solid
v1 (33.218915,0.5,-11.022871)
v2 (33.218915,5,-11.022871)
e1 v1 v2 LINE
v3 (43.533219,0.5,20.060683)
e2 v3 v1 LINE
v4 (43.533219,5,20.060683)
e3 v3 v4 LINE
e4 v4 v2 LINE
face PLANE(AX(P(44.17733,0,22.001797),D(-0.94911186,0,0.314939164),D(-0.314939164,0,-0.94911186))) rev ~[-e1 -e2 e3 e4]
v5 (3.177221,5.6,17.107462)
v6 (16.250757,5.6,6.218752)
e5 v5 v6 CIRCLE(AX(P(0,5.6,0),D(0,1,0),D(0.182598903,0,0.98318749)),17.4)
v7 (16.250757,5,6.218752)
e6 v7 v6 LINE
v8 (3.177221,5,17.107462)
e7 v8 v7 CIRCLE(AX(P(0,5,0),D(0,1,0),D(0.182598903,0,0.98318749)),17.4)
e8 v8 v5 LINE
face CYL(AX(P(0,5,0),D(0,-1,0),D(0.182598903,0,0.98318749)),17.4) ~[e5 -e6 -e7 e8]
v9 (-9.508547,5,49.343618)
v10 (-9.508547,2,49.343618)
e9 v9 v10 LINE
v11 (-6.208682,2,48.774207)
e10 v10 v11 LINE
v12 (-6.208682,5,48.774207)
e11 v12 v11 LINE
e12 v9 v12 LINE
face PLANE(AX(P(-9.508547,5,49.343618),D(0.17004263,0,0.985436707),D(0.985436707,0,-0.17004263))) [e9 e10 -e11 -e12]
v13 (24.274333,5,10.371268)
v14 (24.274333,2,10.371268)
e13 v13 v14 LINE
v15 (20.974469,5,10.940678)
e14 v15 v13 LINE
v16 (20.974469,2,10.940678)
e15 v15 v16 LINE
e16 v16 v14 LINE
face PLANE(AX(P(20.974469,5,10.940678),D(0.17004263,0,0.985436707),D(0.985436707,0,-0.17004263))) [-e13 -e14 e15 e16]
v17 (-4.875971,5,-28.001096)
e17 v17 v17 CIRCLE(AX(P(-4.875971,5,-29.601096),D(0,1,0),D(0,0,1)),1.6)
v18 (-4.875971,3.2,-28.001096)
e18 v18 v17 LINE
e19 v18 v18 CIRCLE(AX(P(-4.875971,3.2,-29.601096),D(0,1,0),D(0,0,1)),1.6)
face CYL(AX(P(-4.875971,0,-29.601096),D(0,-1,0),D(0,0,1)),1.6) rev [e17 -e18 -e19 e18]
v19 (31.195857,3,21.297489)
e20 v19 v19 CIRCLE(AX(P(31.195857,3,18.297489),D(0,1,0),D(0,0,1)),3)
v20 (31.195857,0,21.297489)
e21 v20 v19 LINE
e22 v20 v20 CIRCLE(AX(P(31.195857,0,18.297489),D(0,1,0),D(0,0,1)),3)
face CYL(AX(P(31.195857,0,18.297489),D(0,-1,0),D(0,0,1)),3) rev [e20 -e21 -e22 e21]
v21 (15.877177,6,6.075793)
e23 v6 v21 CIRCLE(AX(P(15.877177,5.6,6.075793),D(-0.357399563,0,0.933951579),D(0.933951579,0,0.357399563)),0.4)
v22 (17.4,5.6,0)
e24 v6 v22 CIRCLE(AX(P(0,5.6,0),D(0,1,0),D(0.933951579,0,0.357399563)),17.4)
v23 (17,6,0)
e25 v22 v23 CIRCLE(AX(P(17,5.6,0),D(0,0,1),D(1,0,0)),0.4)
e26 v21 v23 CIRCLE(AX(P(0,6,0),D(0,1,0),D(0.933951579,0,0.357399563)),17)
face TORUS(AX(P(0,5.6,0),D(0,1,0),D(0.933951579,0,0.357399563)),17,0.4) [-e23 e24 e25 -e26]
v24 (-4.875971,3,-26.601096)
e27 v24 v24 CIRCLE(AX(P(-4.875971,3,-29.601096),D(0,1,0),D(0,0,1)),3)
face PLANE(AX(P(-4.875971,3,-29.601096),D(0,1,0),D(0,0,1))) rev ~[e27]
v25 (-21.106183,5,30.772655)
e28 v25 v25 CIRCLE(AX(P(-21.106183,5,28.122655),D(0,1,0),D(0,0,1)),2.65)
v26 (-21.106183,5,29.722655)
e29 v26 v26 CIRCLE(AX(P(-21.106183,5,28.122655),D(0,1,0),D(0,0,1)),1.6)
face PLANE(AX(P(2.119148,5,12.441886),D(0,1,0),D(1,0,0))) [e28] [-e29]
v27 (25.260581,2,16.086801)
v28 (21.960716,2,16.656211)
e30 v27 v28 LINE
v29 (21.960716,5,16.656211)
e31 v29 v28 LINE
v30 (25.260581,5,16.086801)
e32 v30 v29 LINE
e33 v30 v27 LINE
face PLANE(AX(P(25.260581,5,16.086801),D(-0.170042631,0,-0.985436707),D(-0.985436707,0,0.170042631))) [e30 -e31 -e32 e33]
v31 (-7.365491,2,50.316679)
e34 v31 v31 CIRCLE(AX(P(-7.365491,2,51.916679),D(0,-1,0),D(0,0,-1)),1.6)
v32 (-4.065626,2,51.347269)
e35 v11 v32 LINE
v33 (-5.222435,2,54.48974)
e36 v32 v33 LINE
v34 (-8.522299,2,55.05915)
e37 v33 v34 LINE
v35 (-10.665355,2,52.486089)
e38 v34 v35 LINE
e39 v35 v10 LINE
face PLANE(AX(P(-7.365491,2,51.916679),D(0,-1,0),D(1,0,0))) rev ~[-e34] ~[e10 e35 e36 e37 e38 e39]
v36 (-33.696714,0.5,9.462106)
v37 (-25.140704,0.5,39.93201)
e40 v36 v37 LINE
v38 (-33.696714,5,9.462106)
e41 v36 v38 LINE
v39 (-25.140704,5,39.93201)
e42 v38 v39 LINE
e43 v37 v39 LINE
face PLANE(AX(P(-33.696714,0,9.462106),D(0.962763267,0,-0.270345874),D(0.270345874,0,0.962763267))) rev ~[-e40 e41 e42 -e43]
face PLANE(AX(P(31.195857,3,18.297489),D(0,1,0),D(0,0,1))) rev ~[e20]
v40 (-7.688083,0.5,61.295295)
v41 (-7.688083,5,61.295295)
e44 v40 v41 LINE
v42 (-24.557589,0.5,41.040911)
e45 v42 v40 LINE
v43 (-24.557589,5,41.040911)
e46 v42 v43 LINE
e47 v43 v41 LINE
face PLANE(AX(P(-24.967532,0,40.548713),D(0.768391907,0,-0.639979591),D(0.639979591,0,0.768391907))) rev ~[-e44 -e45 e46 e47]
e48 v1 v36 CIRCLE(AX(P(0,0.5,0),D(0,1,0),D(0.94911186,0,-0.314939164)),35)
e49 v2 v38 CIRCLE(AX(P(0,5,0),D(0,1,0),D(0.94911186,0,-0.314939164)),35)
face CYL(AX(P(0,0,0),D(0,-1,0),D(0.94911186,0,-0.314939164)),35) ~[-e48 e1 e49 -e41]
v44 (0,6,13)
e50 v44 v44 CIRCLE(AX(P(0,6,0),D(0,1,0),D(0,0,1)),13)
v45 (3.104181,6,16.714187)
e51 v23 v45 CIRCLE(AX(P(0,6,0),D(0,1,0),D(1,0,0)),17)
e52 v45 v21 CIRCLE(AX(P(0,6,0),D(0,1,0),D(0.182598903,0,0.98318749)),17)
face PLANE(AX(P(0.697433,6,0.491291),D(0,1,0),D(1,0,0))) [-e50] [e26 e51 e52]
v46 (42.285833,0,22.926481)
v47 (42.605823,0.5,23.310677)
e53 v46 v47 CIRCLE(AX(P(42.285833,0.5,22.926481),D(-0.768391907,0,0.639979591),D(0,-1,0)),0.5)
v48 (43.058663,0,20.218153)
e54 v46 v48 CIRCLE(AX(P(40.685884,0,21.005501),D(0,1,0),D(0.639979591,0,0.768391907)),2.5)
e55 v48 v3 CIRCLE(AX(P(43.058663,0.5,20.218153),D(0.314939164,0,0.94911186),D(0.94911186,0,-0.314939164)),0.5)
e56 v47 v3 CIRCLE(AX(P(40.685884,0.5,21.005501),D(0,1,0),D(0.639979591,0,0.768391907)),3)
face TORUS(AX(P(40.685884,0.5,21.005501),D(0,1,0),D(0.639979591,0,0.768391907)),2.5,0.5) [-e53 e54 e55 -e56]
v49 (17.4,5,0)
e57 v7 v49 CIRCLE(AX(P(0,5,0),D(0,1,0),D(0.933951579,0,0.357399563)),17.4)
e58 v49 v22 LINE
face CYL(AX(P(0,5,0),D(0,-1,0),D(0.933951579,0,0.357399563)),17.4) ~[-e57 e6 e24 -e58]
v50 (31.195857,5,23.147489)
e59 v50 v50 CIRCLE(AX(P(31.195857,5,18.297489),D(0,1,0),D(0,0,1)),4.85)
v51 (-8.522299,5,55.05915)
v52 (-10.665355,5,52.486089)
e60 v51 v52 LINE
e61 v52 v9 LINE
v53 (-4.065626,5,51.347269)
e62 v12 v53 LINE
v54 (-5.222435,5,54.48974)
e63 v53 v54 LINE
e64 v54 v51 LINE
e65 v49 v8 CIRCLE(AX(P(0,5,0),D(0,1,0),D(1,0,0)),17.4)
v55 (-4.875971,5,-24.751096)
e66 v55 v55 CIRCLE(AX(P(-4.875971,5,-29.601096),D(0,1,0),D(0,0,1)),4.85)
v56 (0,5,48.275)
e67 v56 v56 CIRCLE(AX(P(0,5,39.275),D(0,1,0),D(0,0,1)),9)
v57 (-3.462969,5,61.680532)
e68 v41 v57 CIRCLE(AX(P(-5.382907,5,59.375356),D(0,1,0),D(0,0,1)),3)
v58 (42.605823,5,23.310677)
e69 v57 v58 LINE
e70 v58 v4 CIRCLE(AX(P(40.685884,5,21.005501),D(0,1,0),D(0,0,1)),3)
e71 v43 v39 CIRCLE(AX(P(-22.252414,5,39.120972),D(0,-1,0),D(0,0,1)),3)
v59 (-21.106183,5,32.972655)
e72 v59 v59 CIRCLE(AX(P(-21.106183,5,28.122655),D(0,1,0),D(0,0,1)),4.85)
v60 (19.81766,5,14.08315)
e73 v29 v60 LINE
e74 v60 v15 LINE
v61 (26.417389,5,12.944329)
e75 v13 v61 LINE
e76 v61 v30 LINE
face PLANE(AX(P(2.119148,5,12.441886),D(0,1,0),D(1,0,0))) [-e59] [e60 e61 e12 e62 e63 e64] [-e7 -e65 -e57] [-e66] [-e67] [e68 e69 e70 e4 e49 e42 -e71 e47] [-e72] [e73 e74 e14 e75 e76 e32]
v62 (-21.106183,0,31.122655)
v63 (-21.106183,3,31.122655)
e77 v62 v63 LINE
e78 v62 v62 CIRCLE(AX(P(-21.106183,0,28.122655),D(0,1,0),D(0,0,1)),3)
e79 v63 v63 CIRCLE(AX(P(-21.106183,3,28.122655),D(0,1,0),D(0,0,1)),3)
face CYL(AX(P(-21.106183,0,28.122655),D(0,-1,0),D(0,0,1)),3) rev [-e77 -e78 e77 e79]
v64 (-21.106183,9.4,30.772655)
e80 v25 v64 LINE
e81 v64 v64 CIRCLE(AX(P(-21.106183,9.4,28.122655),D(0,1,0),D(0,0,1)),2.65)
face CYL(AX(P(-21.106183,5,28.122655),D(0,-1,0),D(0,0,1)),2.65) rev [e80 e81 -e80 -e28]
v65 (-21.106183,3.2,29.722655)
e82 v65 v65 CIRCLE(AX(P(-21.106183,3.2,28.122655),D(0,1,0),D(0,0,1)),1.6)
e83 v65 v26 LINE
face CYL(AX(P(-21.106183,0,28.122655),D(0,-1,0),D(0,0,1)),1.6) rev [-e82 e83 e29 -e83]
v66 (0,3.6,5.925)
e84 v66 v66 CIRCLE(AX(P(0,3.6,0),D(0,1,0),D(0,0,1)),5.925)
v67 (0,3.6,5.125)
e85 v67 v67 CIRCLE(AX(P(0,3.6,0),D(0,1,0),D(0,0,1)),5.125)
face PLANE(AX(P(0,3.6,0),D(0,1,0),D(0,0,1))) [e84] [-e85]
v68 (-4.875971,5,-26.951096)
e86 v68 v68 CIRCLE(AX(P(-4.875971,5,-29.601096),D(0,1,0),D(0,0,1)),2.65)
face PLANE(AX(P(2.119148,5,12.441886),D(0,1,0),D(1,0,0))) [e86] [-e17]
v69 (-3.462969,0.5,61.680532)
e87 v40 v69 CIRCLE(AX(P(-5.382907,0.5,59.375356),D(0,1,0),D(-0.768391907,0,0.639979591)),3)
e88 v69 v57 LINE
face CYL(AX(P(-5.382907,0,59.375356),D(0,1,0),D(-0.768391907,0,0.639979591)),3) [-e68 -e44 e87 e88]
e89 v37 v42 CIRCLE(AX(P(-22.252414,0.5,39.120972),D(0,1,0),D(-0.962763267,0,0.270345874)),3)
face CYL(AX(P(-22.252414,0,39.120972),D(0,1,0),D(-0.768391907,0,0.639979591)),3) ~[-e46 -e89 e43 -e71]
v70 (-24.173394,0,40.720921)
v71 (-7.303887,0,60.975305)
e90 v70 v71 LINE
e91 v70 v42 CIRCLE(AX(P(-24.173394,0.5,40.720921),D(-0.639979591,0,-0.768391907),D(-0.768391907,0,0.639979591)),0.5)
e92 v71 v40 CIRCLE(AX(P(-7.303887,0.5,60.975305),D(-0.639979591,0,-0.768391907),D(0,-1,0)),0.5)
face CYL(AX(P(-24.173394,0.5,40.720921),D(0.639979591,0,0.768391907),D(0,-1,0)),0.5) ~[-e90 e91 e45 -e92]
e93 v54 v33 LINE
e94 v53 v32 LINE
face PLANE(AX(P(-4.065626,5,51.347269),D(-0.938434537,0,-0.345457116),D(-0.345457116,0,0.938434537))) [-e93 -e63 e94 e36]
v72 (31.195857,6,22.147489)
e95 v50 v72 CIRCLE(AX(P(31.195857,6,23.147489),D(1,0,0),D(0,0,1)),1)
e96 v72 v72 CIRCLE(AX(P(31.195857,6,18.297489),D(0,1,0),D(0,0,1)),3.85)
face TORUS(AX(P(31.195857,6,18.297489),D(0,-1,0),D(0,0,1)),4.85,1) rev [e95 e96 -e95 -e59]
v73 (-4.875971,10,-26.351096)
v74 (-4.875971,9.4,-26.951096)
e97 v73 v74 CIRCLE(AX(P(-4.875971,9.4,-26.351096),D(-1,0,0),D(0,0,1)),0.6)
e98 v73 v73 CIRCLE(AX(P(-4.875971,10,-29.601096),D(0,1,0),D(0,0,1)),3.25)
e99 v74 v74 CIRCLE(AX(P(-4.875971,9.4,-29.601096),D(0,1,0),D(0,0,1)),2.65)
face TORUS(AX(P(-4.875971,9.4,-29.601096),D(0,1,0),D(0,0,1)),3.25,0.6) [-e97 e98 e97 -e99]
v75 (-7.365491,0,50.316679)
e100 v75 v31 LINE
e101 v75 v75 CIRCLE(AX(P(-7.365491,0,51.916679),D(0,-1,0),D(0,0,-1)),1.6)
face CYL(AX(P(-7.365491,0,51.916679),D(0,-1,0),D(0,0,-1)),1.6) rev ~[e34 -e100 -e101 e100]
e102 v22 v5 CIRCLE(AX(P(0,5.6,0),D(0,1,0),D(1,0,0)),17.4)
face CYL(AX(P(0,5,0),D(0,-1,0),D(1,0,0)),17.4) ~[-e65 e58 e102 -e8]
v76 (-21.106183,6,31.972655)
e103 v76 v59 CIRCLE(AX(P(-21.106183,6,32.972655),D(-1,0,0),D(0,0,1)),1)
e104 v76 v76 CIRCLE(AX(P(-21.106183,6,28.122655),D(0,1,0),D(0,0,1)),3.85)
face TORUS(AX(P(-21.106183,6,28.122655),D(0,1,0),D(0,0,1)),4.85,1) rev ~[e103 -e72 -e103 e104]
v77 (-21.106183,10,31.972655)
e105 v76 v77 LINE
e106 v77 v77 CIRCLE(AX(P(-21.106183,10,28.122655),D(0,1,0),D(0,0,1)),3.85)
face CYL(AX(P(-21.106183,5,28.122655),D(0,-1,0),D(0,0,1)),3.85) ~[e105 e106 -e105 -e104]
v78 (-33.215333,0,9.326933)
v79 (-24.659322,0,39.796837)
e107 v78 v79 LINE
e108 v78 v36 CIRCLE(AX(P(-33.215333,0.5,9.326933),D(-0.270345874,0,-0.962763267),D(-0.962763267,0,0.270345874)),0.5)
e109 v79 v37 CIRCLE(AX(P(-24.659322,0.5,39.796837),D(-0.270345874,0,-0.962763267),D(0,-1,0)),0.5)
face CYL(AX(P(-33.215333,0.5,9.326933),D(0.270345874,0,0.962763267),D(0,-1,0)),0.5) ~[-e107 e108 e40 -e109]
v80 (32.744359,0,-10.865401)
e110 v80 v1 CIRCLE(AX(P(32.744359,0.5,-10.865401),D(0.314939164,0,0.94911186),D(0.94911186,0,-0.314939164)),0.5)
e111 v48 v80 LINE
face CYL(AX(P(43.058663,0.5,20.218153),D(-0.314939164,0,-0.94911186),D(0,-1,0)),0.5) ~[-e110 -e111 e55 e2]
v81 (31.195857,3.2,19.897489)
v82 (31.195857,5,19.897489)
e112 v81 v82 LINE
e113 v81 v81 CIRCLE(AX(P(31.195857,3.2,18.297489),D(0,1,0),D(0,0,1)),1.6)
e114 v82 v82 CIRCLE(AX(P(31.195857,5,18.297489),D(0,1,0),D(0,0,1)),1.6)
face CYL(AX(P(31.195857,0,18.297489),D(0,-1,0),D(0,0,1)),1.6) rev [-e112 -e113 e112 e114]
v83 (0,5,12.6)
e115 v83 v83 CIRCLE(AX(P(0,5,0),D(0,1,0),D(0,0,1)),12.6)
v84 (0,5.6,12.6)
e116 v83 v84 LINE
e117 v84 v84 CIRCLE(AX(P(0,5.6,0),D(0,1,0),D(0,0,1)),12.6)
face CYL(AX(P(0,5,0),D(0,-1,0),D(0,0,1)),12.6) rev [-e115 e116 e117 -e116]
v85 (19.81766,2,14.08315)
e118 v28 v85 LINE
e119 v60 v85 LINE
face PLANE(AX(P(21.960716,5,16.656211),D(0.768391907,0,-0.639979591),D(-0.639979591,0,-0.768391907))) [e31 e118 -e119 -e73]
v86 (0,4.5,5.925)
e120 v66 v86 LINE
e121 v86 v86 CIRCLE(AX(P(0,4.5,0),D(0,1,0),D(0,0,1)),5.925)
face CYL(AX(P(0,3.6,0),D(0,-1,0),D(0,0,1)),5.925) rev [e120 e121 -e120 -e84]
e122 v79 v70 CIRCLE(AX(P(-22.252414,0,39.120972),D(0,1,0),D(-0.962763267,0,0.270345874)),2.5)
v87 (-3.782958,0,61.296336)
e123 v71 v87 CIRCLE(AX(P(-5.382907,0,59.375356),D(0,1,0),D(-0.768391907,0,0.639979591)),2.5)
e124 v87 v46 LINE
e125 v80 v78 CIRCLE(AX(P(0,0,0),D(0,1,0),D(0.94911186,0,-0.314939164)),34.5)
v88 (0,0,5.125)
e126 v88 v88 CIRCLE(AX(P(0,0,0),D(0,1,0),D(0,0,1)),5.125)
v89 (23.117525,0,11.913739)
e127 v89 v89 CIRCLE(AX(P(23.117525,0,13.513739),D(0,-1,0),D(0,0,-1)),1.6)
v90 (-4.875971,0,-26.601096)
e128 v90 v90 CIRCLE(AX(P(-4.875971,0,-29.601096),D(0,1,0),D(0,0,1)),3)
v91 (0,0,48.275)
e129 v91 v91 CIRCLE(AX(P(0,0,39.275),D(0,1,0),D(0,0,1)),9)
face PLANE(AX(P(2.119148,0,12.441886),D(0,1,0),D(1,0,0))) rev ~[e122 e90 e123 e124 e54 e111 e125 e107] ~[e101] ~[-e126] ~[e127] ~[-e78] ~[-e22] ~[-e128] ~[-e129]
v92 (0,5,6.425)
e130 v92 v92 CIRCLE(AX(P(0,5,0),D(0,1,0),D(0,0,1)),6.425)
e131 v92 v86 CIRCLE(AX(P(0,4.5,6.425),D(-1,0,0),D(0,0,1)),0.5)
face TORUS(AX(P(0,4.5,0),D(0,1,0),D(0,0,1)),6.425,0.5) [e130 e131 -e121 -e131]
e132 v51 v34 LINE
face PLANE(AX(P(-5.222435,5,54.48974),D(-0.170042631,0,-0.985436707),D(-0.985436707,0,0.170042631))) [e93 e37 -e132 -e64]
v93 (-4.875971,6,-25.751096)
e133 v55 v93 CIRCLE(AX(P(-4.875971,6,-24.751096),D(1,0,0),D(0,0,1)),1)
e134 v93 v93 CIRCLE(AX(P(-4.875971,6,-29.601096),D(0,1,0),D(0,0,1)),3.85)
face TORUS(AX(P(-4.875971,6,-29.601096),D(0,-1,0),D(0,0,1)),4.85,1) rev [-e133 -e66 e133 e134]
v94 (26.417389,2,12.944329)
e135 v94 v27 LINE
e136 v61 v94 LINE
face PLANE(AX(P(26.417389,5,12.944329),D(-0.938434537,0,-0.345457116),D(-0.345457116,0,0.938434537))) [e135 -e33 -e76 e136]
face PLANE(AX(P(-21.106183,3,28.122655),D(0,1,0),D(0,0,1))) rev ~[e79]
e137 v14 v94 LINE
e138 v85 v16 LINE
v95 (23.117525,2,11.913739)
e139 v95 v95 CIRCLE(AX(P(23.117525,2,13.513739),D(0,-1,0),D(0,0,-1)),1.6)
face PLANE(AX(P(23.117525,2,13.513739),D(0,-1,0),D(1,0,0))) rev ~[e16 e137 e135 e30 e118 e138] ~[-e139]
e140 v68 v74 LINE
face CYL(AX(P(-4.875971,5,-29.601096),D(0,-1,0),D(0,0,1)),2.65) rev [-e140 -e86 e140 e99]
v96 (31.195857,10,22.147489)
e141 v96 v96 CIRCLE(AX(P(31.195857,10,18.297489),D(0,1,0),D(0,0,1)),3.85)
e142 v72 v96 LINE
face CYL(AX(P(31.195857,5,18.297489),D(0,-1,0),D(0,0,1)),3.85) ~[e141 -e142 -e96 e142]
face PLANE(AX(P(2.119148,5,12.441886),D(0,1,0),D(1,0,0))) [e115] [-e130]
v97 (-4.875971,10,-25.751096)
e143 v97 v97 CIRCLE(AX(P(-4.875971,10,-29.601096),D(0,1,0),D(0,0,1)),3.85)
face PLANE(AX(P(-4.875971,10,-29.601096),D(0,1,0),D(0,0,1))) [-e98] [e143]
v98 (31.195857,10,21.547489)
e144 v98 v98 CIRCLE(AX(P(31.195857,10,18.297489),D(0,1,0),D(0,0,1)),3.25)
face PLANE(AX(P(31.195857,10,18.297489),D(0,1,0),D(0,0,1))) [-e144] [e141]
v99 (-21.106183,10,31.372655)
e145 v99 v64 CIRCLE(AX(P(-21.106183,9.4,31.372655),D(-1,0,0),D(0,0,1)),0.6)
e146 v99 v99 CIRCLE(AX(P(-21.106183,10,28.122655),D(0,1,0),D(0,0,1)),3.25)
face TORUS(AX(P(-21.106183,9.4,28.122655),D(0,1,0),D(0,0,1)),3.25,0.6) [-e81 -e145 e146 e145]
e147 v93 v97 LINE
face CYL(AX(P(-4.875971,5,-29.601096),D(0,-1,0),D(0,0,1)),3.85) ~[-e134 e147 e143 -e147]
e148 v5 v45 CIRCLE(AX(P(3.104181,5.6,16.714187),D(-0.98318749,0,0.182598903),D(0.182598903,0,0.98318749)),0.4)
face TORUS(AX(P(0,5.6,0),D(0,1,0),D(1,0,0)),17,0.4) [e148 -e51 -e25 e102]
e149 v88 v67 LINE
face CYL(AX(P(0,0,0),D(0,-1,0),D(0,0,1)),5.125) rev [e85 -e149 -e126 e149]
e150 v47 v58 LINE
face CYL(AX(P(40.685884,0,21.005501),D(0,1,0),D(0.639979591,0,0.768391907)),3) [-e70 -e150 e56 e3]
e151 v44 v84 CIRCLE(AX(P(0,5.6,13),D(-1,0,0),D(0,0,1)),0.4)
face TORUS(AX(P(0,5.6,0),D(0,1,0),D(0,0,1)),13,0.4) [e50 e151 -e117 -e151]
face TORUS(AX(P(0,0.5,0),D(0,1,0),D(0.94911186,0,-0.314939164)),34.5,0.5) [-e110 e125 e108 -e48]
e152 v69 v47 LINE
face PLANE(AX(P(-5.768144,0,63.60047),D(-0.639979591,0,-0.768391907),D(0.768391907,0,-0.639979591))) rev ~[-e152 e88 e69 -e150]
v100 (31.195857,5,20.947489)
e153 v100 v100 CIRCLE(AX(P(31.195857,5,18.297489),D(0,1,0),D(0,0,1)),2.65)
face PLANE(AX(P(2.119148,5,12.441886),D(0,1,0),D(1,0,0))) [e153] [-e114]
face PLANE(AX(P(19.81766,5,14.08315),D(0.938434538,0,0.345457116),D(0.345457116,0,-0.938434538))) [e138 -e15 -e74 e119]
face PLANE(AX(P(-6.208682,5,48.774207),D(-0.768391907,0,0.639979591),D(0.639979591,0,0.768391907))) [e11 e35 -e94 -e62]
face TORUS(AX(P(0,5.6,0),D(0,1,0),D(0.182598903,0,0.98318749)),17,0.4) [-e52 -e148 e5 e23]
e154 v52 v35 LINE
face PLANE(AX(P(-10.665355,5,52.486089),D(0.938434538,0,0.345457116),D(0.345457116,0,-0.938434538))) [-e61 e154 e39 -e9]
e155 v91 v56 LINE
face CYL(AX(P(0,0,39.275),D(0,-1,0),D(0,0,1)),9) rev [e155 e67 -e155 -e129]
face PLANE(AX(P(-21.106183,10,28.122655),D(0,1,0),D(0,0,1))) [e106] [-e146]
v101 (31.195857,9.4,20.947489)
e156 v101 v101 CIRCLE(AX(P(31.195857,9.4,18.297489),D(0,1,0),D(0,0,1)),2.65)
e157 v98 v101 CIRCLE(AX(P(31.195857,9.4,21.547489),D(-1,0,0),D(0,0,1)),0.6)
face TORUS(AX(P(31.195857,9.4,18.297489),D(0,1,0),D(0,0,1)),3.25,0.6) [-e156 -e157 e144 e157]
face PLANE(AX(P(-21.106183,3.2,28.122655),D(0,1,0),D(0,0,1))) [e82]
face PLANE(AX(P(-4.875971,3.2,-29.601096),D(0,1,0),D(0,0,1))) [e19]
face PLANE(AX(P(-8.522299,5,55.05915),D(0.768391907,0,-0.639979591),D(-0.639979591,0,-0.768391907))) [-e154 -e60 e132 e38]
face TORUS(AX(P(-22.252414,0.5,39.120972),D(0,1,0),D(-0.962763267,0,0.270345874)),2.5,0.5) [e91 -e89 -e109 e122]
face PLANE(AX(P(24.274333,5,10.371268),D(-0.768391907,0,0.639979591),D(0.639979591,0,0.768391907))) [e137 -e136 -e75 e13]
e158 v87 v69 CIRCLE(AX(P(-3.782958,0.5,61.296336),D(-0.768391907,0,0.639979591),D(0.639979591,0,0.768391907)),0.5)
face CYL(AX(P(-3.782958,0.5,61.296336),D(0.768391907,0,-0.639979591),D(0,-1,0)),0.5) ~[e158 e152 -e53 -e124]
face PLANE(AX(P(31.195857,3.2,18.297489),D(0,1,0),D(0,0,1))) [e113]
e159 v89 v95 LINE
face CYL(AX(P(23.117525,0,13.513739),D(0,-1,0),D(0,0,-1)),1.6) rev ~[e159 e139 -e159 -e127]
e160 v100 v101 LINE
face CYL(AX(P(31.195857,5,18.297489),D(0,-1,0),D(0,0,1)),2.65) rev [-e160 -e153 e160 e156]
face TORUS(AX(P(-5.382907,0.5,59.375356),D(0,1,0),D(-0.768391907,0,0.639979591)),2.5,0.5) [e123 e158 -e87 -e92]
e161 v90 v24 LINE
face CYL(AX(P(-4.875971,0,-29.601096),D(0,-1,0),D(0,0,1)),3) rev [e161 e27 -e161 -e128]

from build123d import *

# Parameters (mm, degrees)
SKETCH1_R           = 1.6
SKETCH1_R_2         = 9
SKETCH1_R_3         = 5.125
BOSS_EXTRUDE1_DEPTH = 5
BOSS_EXTRUDE2_START = 5
SKETCH1_3_R         = 12.6
BOSS_EXTRUDE2_DEPTH = 1
SKETCH1_4_R         = 3
CUT_EXTRUDE1_DEPTH  = 3
FILLET1_R           = 3
CUT_EXTRUDE2_START  = 3.6
SKETCH1_6_R         = 5.925
SKETCH1_6_R_2       = 5.125
CUT_EXTRUDE2_DEPTH  = 1.4
FILLET3_R           = 0.5
BOSS_EXTRUDE3_START = 3
SKETCH1_7_R         = 1.6
BOSS_EXTRUDE3_DEPTH = 0.2
SKETCH2_R           = 1.6
CUT_EXTRUDE3_DEPTH  = 77.388097719
CUT_EXTRUDE4_START  = -5
CUT_EXTRUDE4_DEPTH  = 3
FILLET4_R           = 0.5
FILLET5_R           = 0.4
SKETCH3_R           = 3.85
SKETCH3_R_2         = 2.65
BOSS_EXTRUDE4_DEPTH = 5
FILLET6_R           = 0.6
FILLET7_R           = 1


with BuildPart() as part:
    # Sketch1 → Boss-Extrude1 (new body)
    with BuildSketch(Plane(origin=(0, 0, 0), x_dir=(1, 0, 0), z_dir=(0, 1, 0))):
        with BuildLine():
            Line((-24.967532009, -40.548713224), (-5.768144267, -63.600470431))
            Line((-5.768144267, -63.600470431), (44.177329682, -22.001796991))
            Line((44.177329682, -22.001796991), (33.218915104, 11.022870738))
            ThreePointArc((33.218915104, 11.022870738), (-10.245273875, 33.466914456), (-33.696714348, -9.462105586))
            Line((-33.696714348, -9.462105586), (-24.967532009, -40.548713224))
        make_face()
        with Locations(Location((31.1958571, -18.297488882, 0), (0, 0, 270))):
            Circle(SKETCH1_R, mode=Mode.SUBTRACT)
        with Locations(Location((0, -39.275, 0), (0, 0, 270))):
            Circle(SKETCH1_R_2, mode=Mode.SUBTRACT)
        with Locations(Location((-21.106183258, -28.12265474, 0), (0, 0, 270))):
            Circle(SKETCH1_R, mode=Mode.SUBTRACT)
        with Locations(Location((0, 0, 0), (0, 0, 270))):
            Circle(SKETCH1_R_3, mode=Mode.SUBTRACT)
        with Locations(Location((-4.875970821, 29.601096408, 0), (0, 0, 270))):
            Circle(SKETCH1_R, mode=Mode.SUBTRACT)
    extrude(amount=BOSS_EXTRUDE1_DEPTH)

    # Sketch1<3> → Boss-Extrude2 (add)
    # profile 1 of 2: a face of its own
    with BuildSketch(Plane(origin=(0, 0, 0), x_dir=(1, 0, 0), z_dir=(0, 1, 0)).offset(BOSS_EXTRUDE2_START)):
        with BuildLine():
            ThreePointArc((17.4, 0), (-13.379903661, 11.123766359), (3.177220917, -17.107462326))
            Line((3.177220917, -17.107462326), (16.250757479, -6.218752397))
            ThreePointArc((16.250757479, -6.218752397), (17.110277323, -3.162026239), (17.4, 0))
        make_face()
        with Locations(Location((0, 0, 0), (0, 0, 270))):
            Circle(SKETCH1_3_R, mode=Mode.SUBTRACT)
    # profile 2 of 2: a face of its own
    with BuildSketch(Plane(origin=(0, 0, 0), x_dir=(1, 0, 0), z_dir=(0, 1, 0)).offset(BOSS_EXTRUDE2_START)):
        with BuildLine():
            Line((16.250757479, -6.218752397), (3.177220917, -17.107462326))
            ThreePointArc((3.177220917, -17.107462326), (11.13564489, -13.37001918), (16.250757479, -6.218752397))
        make_face()
    extrude(amount=BOSS_EXTRUDE2_DEPTH)

    # Sketch1<4> → Cut-Extrude1 (cut)
    with BuildSketch(Plane(origin=(0, 0, 0), x_dir=(1, 0, 0), z_dir=(0, 1, 0))):
        with Locations(Location((-21.106183258, -28.12265474, 0), (0, 0, 270))):
            Circle(SKETCH1_4_R)
        with Locations(Location((31.1958571, -18.297488882, 0), (0, 0, 270))):
            Circle(SKETCH1_4_R)
        with Locations(Location((-4.875970821, 29.601096408, 0), (0, 0, 270))):
            Circle(SKETCH1_4_R)
    extrude(amount=CUT_EXTRUDE1_DEPTH, mode=Mode.SUBTRACT)

    # Fillet1
    fillet1_edges = [part.edges().sort_by_distance(p)[0] for p in [
        (44.177329682, 2.5, 22.001796991),
        (-5.768144267, 2.5, 63.600470431),
        (-24.967532009, 2.5, 40.548713224),
    ]]
    fillet(fillet1_edges, radius=FILLET1_R)

    # Sketch1<6> → Cut-Extrude2 (cut)
    with BuildSketch(Plane(origin=(0, 0, 0), x_dir=(1, 0, 0), z_dir=(0, 1, 0)).offset(CUT_EXTRUDE2_START)):
        with Locations(Location((0, 0, 0), (0, 0, 270))):
            Circle(SKETCH1_6_R)
        with Locations(Location((0, 0, 0), (0, 0, 270))):
            Circle(SKETCH1_6_R_2, mode=Mode.SUBTRACT)
    extrude(amount=CUT_EXTRUDE2_DEPTH, mode=Mode.SUBTRACT)

    # Fillet3
    fillet3_edges = [part.edges().sort_by_distance(p)[0] for p in [
        (0, 5, -5.925),
    ]]
    fillet(fillet3_edges, radius=FILLET3_R)

    # Sketch1<7> → Boss-Extrude3 (add)
    with BuildSketch(Plane(origin=(0, 0, 0), x_dir=(1, 0, 0), z_dir=(0, 1, 0)).offset(BOSS_EXTRUDE3_START)):
        with Locations(Location((31.1958571, -18.297488882, 0), (0, 0, 270))):
            Circle(SKETCH1_7_R)
        with Locations(Location((-21.106183258, -28.12265474, 0), (0, 0, 270))):
            Circle(SKETCH1_7_R)
        with Locations(Location((-4.875970821, 29.601096408, 0), (0, 0, 270))):
            Circle(SKETCH1_7_R)
    extrude(amount=BOSS_EXTRUDE3_DEPTH)

    # Sketch2 → Cut-Extrude3 (cut, through all)
    with BuildSketch(Plane.XZ):
        with Locations(Location((-7.365490763, 51.916678916, 0), (0, 0, 270))):
            Circle(SKETCH2_R)
        with Locations(Location((23.117524854, 13.51373946, 0), (0, 0, 270))):
            Circle(SKETCH2_R)
    extrude(amount=-CUT_EXTRUDE3_DEPTH, mode=Mode.SUBTRACT)

    # Sketch2<3> → Cut-Extrude4 (cut)
    with BuildSketch(Plane.XZ.offset(CUT_EXTRUDE4_START)):
        Polygon((19.817660395, 14.08314958), (20.974468996, 10.940678069), (24.274333455, 10.37126795), (26.417389314, 12.944329341), (25.260580713, 16.086800851), (21.960716254, 16.656210971), align=None)
        Polygon((-10.665355222, 52.486089036), (-9.508546621, 49.343617525), (-6.208682162, 48.774207406), (-4.065626304, 51.347268797), (-5.222434905, 54.489740307), (-8.522299364, 55.059150427), align=None)
    extrude(amount=CUT_EXTRUDE4_DEPTH, mode=Mode.SUBTRACT)

    # Fillet4
    fillet4_edges = [part.edges().sort_by_distance(p)[0] for p in [
        (-10.245273875, 0, -33.466914456),
        (38.376067251, 0, 4.518906303),
        (-29.418708961, 0, 24.697057701),
        (19.571427023, 0, 42.495604107),
        (-16.122836267, 0, 51.16810284),
        (-24.907679574, 0, 40.517239907),
        (-5.655310978, 0, 62.362963047),
        (43.570730463, 0, 21.828701805),
    ]]
    fillet(fillet4_edges, radius=FILLET4_R)

    # Fillet5
    fillet5_edges = [part.edges().sort_by_distance(p)[0] for p in [
        (-3.177220917, 6, -17.107462326),
        (0, 6, -12.6),
    ]]
    fillet(fillet5_edges, radius=FILLET5_R)

    # Sketch3 → Boss-Extrude4 (add)
    # profile 1 of 3: a face of its own
    with BuildSketch(Plane(origin=(0, 5, 0), x_dir=(1, 0, 0), z_dir=(0, 1, 0))):
        with Locations(Location((31.1958571, -18.297488882, 0), (0, 0, 270))):
            Circle(SKETCH3_R)
        with Locations(Location((31.1958571, -18.297488882, 0), (0, 0, 270))):
            Circle(SKETCH3_R_2, mode=Mode.SUBTRACT)
    # profile 2 of 3: a face of its own
    with BuildSketch(Plane(origin=(0, 5, 0), x_dir=(1, 0, 0), z_dir=(0, 1, 0))):
        with Locations(Location((-21.106183258, -28.12265474, 0), (0, 0, 270))):
            Circle(SKETCH3_R)
        with Locations(Location((-21.106183258, -28.12265474, 0), (0, 0, 270))):
            Circle(SKETCH3_R_2, mode=Mode.SUBTRACT)
    # profile 3 of 3: a face of its own
    with BuildSketch(Plane(origin=(0, 5, 0), x_dir=(1, 0, 0), z_dir=(0, 1, 0))):
        with Locations(Location((-4.875970821, 29.601096408, 0), (0, 0, 270))):
            Circle(SKETCH3_R)
        with Locations(Location((-4.875970821, 29.601096408, 0), (0, 0, 270))):
            Circle(SKETCH3_R_2, mode=Mode.SUBTRACT)
    extrude(amount=BOSS_EXTRUDE4_DEPTH)

    # Fillet6
    fillet6_edges = [part.edges().sort_by_distance(p)[0] for p in [
        (31.1958571, 10, 15.647488882),
        (-21.106183258, 10, 25.47265474),
        (-4.875970821, 10, -32.251096408),
    ]]
    fillet(fillet6_edges, radius=FILLET6_R)

    # Fillet7
    fillet7_edges = [part.edges().sort_by_distance(p)[0] for p in [
        (31.1958571, 5, 14.447488882),
        (-21.106183258, 5, 24.27265474),
        (-4.875970821, 5, -33.451096408),
    ]]
    fillet(fillet7_edges, radius=FILLET7_R)


solid = part.part
